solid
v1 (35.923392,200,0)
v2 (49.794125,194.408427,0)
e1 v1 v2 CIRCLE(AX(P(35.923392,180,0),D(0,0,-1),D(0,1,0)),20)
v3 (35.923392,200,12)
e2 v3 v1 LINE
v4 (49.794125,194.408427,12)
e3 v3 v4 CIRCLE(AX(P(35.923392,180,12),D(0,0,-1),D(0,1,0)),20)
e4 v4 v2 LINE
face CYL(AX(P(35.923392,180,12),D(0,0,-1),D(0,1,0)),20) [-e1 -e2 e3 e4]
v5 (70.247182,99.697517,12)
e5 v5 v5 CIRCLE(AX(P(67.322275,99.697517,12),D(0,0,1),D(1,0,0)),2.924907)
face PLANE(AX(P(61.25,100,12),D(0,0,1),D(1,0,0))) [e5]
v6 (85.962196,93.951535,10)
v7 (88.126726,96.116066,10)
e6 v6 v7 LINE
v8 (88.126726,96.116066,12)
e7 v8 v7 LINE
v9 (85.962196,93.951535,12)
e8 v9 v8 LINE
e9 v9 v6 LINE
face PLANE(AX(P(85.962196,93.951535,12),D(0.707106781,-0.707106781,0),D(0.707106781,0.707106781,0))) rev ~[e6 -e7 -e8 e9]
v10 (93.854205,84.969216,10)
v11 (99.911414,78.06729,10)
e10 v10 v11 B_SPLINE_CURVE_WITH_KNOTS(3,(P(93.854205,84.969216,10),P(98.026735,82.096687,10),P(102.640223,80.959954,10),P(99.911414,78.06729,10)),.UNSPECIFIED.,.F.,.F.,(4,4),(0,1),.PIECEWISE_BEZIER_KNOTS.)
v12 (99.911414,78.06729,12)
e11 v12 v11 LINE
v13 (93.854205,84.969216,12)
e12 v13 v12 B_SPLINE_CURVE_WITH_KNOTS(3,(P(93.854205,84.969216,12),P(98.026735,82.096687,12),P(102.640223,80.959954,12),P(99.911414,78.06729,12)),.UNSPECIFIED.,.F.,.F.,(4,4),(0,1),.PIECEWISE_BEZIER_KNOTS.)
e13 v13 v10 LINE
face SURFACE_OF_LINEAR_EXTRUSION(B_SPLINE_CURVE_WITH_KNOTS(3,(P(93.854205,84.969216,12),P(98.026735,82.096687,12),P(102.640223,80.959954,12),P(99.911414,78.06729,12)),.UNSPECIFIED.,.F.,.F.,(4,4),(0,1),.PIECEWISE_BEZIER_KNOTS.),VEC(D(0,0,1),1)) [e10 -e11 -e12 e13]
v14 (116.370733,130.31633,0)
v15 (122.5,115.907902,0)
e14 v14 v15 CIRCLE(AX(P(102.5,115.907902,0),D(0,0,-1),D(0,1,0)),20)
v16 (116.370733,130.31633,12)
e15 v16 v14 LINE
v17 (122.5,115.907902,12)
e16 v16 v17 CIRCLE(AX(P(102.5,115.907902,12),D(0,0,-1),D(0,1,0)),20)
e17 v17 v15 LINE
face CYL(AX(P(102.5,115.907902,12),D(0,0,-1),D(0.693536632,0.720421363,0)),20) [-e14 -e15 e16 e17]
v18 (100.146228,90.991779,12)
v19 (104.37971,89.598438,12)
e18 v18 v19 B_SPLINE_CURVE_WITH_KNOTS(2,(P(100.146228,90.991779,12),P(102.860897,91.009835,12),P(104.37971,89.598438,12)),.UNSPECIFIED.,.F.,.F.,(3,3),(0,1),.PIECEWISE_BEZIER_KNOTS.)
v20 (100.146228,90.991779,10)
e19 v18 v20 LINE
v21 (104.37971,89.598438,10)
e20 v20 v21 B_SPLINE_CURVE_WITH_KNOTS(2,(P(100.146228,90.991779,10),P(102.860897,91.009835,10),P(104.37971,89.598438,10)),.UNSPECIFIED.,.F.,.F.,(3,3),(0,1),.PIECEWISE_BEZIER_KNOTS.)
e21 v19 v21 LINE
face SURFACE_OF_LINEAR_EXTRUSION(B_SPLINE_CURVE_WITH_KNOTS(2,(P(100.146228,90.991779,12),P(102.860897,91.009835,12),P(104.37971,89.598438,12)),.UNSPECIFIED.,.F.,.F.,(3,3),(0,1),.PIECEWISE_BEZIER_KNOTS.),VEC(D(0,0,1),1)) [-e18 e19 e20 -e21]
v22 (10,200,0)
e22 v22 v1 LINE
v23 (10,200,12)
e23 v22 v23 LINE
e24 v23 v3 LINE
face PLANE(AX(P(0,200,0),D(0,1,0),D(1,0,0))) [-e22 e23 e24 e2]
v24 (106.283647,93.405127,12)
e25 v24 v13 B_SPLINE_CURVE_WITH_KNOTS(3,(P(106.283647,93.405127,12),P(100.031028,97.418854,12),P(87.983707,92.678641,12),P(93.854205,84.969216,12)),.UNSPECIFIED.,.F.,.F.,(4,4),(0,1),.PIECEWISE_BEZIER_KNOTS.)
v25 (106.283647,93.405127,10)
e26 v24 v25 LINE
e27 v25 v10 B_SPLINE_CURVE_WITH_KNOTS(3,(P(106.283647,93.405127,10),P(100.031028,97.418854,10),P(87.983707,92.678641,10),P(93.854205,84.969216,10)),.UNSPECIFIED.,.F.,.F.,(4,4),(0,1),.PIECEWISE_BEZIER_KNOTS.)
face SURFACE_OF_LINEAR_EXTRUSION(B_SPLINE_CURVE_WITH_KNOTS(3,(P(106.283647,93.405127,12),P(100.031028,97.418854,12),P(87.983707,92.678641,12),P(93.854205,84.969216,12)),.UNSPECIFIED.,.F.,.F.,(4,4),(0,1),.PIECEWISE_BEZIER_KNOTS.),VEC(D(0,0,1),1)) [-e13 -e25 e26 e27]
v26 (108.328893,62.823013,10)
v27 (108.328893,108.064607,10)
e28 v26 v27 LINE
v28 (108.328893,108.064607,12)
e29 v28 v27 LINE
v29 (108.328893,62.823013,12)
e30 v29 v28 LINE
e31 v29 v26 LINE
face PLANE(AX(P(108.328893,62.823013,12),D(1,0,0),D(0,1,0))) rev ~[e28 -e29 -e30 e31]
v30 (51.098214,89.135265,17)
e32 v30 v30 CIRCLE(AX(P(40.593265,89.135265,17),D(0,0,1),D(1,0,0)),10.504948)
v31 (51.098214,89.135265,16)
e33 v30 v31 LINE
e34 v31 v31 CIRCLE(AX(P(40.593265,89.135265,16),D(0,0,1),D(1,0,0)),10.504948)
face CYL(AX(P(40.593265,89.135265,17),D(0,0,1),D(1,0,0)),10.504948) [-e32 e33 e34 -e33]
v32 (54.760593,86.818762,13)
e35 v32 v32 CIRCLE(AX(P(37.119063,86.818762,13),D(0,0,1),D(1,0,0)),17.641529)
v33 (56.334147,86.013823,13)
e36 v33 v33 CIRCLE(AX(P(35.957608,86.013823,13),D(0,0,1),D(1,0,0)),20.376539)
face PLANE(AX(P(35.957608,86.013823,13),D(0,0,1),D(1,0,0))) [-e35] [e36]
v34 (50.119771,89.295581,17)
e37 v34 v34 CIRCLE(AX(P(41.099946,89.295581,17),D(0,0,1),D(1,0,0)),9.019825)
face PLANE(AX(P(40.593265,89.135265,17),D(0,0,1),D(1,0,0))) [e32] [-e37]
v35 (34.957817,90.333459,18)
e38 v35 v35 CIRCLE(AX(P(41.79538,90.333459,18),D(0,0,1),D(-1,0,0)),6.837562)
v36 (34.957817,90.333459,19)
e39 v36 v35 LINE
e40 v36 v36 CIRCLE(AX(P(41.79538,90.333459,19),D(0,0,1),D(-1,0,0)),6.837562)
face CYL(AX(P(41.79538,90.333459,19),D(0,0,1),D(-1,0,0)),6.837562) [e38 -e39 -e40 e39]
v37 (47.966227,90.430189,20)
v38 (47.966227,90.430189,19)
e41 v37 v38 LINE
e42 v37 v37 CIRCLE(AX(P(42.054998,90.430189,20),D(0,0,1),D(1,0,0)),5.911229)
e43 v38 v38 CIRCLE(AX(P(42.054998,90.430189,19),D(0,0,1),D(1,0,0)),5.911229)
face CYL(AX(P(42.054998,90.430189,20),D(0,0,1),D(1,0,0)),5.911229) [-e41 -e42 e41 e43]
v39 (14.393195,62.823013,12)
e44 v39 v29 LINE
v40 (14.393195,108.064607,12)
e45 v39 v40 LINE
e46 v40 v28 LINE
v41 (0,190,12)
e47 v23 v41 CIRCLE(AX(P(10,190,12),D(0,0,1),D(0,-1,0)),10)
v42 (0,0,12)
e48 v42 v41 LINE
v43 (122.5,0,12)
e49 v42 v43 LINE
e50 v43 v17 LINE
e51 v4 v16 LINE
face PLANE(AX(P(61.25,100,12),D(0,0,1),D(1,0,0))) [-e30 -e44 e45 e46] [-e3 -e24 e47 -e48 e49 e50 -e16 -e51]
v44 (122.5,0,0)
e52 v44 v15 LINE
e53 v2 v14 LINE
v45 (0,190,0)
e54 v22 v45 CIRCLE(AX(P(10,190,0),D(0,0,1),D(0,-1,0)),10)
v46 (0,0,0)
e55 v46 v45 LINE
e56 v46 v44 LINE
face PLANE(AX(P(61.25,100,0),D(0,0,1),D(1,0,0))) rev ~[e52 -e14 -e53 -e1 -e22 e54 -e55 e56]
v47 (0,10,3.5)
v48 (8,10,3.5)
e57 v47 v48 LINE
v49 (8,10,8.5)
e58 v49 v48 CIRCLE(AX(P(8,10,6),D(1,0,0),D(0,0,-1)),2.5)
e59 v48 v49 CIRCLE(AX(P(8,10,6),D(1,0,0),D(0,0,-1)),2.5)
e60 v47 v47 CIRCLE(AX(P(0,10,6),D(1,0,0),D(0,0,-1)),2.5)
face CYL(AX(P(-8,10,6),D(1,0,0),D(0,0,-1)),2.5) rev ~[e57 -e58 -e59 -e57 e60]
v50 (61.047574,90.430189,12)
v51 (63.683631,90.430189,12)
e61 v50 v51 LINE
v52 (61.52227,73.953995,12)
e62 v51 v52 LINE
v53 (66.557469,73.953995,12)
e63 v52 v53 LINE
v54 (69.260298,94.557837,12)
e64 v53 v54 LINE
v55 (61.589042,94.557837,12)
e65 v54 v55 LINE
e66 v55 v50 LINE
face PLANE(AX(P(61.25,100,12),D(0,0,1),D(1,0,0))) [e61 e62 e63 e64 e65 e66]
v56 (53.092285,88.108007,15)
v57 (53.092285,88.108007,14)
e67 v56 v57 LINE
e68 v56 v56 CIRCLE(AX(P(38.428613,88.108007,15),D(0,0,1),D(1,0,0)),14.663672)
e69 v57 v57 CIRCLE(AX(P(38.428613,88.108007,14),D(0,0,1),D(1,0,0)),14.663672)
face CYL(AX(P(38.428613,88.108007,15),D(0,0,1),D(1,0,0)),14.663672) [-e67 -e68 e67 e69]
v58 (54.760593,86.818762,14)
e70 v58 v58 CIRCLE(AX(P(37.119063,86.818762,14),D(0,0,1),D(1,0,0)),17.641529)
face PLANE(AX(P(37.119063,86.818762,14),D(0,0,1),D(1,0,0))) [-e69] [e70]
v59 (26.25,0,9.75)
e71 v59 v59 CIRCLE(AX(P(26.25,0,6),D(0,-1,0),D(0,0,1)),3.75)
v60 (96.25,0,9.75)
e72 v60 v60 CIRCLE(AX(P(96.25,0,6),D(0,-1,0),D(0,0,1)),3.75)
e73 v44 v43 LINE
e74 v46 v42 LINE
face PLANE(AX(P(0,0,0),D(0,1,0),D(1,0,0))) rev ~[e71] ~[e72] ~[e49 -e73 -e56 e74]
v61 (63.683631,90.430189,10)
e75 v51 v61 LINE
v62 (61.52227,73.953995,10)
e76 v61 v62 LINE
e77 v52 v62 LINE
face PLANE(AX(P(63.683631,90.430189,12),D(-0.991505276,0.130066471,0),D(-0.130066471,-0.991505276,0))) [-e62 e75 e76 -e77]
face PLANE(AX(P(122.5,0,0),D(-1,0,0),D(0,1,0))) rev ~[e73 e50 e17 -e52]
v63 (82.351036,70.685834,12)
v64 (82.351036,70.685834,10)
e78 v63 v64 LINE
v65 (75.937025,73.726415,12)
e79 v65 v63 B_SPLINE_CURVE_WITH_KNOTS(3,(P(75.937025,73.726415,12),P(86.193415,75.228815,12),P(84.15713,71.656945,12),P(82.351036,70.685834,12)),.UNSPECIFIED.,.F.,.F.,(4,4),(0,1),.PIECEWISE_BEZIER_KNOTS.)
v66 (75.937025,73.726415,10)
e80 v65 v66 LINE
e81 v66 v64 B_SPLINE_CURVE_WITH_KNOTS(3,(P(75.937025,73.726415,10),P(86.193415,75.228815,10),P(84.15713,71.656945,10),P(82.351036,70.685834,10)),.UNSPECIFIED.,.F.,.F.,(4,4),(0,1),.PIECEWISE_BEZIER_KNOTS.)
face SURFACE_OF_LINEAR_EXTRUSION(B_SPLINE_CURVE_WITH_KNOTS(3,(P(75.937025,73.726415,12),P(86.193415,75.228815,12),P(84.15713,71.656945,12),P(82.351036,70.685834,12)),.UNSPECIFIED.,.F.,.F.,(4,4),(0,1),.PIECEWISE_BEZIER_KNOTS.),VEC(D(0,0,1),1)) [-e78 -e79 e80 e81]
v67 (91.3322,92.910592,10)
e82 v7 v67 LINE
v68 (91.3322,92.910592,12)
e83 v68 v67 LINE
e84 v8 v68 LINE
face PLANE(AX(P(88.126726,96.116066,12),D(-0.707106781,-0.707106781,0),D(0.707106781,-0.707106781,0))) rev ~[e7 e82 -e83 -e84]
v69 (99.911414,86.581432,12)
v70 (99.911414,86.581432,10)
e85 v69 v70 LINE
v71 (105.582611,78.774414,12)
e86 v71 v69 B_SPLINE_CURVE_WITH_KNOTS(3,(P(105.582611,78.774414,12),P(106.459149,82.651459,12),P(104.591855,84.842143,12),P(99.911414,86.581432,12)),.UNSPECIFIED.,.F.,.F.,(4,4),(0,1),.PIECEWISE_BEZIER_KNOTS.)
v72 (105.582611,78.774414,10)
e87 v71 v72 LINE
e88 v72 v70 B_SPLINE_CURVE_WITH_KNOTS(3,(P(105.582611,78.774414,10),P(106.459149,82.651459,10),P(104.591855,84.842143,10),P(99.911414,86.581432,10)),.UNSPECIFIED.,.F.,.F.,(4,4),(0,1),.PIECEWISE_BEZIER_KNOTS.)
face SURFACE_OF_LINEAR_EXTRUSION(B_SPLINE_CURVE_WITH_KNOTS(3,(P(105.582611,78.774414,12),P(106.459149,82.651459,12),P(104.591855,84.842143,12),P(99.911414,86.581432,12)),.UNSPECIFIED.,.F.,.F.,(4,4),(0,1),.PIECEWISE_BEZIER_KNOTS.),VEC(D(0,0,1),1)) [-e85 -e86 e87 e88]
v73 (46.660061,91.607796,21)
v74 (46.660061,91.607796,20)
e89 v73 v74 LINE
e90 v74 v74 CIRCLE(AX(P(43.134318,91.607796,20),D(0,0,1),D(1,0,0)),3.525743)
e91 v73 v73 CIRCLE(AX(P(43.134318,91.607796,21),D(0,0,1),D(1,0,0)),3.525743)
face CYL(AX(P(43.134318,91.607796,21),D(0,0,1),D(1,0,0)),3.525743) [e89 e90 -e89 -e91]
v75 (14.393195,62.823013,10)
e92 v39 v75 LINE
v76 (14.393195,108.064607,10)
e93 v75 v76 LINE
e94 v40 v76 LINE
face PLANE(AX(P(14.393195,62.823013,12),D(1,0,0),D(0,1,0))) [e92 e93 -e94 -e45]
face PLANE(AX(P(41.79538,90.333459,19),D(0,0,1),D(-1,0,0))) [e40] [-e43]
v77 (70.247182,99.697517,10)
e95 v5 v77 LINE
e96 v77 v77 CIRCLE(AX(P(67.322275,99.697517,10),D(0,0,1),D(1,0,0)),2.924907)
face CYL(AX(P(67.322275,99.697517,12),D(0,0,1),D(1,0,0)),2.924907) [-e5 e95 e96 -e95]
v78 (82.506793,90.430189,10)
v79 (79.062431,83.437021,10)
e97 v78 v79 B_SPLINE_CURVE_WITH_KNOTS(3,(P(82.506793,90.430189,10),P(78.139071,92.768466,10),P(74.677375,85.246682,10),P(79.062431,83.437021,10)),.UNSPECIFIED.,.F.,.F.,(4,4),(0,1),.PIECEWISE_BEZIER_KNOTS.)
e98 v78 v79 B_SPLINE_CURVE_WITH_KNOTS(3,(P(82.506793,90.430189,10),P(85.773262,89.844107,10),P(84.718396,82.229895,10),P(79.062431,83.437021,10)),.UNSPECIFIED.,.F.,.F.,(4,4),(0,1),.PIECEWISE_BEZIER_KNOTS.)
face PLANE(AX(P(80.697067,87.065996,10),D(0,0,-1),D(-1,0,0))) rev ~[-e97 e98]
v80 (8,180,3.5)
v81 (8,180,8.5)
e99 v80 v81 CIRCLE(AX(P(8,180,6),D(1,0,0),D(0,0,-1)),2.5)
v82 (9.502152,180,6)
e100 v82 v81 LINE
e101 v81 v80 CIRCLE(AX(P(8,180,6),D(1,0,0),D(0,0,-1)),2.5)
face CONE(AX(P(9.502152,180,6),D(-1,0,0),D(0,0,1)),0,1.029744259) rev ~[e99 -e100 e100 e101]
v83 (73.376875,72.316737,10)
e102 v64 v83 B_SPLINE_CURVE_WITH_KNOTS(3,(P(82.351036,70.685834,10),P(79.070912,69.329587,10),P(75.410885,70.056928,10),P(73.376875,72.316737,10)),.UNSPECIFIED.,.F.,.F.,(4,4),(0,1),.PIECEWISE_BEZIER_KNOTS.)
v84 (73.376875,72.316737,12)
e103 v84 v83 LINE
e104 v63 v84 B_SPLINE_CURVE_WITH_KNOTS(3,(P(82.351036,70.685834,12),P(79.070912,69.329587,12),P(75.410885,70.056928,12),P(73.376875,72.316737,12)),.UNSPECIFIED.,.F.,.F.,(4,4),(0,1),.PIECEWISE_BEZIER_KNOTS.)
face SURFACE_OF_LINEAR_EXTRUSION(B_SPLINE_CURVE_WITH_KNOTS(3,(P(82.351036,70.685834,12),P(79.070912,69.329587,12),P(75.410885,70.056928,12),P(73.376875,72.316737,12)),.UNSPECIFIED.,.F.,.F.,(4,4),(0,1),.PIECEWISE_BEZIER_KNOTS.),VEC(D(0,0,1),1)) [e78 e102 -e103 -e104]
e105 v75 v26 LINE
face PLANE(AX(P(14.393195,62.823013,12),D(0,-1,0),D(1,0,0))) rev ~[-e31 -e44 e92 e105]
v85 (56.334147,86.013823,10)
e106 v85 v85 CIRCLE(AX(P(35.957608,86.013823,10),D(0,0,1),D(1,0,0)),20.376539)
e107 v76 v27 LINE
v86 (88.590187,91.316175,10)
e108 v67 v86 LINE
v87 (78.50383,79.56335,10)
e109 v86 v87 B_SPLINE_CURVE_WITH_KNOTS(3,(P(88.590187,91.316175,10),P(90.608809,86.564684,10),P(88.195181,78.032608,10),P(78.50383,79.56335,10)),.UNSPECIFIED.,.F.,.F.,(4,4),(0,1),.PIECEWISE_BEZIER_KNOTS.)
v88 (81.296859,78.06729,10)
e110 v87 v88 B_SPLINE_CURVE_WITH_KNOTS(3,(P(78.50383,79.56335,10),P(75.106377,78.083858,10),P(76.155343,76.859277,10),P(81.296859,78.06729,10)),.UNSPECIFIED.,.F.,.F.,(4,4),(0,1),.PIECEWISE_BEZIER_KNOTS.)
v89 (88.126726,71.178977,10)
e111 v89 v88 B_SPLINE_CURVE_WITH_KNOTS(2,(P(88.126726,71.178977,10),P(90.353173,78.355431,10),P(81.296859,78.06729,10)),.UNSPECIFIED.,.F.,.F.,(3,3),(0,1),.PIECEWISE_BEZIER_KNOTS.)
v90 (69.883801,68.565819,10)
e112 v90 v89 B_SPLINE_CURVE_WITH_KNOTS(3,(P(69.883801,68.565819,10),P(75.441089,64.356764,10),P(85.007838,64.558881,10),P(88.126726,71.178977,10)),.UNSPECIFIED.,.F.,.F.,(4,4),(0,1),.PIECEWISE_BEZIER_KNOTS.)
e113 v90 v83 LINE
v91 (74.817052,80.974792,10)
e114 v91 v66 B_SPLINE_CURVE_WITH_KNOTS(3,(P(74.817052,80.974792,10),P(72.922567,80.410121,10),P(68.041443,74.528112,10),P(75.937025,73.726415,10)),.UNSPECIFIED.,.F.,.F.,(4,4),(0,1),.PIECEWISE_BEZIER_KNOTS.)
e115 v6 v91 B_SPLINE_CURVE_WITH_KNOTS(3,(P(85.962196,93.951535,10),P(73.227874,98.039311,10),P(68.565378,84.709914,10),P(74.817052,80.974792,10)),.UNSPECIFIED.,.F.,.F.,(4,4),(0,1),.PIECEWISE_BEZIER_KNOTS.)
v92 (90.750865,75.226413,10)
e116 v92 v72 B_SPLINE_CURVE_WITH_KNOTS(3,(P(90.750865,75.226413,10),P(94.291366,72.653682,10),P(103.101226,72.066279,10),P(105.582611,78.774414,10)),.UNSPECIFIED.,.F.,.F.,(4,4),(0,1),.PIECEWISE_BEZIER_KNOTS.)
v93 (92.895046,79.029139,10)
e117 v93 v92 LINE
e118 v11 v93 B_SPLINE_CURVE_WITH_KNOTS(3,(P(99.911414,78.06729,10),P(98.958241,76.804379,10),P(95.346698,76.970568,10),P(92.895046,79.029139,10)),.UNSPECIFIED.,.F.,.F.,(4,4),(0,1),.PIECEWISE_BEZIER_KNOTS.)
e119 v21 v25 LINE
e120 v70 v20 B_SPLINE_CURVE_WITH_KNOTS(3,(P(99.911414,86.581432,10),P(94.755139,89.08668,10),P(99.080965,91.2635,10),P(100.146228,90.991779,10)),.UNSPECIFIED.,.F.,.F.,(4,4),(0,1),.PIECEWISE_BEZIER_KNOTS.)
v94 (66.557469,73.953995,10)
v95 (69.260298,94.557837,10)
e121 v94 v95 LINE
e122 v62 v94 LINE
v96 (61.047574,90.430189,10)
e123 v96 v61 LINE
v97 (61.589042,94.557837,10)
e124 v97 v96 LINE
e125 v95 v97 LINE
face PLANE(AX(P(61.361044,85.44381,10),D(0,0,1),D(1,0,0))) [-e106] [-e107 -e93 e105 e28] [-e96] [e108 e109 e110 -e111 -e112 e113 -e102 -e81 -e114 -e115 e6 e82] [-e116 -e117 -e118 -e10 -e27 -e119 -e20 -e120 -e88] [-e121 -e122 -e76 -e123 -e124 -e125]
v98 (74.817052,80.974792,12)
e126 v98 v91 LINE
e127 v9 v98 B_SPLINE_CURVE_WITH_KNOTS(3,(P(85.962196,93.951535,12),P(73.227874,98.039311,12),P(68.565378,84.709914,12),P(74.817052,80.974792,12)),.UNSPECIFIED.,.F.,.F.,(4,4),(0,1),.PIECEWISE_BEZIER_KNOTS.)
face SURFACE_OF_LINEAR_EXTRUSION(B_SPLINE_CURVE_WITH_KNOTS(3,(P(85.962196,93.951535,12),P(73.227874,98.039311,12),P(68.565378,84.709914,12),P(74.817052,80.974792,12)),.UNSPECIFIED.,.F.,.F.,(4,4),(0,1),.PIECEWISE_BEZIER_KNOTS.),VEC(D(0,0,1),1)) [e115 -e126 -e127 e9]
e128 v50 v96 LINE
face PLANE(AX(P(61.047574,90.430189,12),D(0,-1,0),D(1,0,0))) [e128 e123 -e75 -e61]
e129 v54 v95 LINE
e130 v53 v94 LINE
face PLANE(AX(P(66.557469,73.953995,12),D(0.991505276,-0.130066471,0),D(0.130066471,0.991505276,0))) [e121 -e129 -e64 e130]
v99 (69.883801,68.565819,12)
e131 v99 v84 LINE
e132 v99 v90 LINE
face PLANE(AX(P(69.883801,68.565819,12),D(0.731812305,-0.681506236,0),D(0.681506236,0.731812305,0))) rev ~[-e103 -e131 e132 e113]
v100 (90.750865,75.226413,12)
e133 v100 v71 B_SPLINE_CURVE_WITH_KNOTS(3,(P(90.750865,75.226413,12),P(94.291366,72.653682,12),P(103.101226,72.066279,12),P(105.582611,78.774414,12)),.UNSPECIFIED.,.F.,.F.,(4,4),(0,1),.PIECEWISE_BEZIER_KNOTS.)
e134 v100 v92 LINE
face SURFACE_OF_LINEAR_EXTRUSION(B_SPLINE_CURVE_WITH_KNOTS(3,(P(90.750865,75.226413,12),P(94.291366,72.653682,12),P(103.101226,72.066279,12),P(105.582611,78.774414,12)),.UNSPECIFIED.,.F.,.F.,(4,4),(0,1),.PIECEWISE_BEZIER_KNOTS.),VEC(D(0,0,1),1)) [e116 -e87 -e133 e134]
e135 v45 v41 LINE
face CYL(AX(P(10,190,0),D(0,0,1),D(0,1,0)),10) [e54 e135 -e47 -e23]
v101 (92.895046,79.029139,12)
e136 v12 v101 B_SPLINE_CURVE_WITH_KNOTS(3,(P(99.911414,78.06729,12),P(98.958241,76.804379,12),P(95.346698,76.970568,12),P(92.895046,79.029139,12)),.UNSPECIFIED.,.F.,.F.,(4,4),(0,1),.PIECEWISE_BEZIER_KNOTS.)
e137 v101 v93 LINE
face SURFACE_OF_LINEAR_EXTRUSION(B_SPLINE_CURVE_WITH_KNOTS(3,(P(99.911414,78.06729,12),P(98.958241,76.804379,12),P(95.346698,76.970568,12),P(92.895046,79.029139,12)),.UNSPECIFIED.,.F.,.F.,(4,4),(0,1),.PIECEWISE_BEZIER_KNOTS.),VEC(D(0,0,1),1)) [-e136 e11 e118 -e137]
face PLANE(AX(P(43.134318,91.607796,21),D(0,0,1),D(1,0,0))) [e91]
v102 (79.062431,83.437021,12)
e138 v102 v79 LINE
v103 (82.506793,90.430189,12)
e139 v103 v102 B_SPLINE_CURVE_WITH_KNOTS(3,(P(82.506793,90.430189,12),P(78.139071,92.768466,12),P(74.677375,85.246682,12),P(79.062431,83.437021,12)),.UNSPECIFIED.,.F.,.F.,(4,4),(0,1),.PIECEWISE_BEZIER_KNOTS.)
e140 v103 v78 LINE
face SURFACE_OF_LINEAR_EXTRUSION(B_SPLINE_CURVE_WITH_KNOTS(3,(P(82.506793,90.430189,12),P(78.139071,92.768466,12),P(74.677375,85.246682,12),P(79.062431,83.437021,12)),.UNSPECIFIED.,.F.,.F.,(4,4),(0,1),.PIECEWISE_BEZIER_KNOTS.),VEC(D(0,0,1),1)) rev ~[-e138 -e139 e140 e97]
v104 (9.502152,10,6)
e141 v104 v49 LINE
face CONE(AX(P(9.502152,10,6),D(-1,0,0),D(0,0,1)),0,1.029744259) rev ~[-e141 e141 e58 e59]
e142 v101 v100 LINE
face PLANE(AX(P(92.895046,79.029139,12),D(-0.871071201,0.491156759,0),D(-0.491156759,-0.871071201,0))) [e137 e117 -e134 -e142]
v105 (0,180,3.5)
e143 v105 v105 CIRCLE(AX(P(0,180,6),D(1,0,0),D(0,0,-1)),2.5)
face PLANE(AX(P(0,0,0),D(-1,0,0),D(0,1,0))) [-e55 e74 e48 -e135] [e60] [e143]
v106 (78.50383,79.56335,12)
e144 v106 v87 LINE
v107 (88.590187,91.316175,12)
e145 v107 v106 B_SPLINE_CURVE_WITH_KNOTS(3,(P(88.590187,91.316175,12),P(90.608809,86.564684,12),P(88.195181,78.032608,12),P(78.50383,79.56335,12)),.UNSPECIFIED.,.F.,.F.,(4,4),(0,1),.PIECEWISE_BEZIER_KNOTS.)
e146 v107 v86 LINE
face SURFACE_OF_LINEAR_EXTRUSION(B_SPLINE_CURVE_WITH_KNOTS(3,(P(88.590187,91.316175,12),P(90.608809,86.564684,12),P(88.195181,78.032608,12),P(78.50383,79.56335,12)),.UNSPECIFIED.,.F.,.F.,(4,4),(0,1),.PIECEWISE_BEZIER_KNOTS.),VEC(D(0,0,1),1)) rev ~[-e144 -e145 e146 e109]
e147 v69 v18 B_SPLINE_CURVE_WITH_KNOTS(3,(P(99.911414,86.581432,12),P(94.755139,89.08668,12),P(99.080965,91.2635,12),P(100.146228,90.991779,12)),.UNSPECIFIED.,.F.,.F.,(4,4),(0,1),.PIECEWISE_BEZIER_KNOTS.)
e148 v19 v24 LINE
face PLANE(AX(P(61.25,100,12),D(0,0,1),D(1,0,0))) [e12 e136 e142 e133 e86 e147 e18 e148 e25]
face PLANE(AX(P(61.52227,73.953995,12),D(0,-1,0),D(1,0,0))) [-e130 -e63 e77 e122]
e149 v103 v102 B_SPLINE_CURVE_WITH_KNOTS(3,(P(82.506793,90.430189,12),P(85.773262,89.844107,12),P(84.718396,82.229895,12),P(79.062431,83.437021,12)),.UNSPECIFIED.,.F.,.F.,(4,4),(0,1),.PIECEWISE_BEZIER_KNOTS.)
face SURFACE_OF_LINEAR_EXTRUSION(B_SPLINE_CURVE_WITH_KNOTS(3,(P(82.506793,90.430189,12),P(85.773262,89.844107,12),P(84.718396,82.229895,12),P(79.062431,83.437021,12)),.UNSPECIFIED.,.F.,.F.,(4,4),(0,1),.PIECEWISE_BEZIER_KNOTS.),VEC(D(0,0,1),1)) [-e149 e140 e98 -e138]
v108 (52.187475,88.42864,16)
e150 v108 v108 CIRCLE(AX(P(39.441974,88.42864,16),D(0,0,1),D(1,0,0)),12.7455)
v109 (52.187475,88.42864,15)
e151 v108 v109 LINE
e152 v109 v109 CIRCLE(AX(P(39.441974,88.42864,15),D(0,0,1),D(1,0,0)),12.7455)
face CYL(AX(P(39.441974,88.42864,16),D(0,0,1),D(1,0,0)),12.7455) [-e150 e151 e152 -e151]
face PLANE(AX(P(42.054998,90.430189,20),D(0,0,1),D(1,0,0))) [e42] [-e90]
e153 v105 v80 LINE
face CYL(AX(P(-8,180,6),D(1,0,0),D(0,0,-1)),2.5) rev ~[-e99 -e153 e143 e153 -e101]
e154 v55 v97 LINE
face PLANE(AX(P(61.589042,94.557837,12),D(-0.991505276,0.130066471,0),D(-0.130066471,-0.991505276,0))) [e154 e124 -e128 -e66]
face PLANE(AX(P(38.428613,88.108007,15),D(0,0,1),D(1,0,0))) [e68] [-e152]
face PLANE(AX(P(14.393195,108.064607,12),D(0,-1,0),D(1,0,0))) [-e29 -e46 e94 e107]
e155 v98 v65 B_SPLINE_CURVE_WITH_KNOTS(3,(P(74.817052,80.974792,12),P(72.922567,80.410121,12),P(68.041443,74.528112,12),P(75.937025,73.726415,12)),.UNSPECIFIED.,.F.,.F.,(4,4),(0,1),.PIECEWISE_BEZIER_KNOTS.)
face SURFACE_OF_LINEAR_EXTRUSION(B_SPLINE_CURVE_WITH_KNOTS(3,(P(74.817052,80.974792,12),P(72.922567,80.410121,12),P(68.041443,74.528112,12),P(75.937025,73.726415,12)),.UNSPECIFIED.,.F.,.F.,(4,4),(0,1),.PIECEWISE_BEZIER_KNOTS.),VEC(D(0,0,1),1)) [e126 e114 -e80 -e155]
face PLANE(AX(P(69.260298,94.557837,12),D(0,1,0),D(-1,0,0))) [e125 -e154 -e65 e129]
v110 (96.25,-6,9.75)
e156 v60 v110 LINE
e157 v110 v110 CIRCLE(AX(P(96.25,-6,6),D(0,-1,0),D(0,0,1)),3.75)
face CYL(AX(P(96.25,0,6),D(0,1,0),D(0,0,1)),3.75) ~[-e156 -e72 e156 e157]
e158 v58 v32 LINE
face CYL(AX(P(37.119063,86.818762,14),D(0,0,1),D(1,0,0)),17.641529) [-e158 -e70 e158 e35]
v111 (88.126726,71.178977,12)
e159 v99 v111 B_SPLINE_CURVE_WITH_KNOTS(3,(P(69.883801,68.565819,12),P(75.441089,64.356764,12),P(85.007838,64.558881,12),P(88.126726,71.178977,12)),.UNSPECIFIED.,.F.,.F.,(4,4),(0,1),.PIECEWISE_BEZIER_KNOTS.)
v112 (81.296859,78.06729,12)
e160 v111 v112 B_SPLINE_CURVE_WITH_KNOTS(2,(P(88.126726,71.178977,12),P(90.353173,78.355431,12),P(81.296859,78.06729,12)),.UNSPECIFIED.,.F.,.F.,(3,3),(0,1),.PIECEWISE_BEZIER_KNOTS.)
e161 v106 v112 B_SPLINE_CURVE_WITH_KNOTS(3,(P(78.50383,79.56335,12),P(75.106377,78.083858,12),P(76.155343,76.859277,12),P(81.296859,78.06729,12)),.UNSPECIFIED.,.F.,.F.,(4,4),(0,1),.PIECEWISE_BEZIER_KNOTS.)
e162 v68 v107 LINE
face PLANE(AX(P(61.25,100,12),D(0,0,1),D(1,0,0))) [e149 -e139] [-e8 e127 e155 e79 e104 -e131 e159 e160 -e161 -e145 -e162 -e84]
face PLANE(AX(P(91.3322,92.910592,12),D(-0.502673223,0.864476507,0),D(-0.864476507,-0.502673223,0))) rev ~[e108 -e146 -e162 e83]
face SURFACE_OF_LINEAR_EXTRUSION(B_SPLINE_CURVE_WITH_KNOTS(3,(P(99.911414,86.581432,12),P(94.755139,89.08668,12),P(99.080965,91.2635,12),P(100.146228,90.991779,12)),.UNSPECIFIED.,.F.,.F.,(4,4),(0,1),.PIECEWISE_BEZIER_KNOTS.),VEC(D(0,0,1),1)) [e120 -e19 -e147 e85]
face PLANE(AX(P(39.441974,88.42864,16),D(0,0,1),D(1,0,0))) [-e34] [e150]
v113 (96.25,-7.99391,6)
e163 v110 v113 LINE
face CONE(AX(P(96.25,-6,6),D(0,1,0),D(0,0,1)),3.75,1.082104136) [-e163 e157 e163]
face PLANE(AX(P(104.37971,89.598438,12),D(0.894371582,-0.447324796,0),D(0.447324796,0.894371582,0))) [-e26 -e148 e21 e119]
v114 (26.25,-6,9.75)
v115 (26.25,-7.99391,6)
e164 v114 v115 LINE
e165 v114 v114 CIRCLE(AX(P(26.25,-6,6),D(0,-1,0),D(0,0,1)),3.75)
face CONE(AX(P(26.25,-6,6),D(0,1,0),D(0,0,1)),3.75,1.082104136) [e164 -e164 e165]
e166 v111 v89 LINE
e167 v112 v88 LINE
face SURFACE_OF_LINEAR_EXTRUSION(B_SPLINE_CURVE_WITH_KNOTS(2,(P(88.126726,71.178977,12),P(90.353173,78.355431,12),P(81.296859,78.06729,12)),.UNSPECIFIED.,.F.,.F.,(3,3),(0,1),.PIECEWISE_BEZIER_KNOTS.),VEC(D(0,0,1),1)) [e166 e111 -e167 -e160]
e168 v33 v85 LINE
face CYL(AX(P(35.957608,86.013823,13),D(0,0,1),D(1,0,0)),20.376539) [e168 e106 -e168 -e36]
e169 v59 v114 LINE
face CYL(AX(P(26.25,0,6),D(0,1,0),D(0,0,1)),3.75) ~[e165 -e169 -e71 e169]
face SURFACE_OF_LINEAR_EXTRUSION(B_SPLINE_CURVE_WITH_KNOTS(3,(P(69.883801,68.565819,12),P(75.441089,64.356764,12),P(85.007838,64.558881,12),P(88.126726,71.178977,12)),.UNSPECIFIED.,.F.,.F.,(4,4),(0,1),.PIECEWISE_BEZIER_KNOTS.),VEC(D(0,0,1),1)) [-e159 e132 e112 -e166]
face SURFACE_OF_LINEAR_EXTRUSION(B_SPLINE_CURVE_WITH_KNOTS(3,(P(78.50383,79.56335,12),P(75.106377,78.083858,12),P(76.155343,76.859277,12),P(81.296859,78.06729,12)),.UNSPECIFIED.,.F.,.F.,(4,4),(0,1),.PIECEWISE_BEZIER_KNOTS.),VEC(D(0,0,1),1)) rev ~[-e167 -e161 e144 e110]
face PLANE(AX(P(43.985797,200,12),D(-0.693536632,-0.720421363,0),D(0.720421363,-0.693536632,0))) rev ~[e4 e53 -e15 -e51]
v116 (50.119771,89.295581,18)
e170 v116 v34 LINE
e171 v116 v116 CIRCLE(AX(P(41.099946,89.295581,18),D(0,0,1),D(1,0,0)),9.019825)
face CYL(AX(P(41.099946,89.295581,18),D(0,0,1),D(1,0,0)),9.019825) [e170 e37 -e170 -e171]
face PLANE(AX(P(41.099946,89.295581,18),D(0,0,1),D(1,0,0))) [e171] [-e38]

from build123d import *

# Parameters (mm, degrees)
SKETCH4_W                    = 122.5
SKETCH4_H                    = 200
BOSS_EXTRUDE1_DEPTH          = 12
CUT_EXTRUDE1_DEPTH           = 12
FILLET1_R                    = 20
FILLET2_R                    = 20
FILLET3_R                    = 10
SKETCH10_R                   = 3.75
BOSS_EXTRUDE3_DEPTH          = 6
F_5_0_5_DIAMETER_HOLE1_D     = 5
F_5_0_5_DIAMETER_HOLE1_DEPTH = 8
F_5_0_5_DIAMETER_HOLE1_TIP   = 1.502151548
F_5_0_5_DIAMETER_HOLE2_D     = 5
F_5_0_5_DIAMETER_HOLE2_DEPTH = 8
F_5_0_5_DIAMETER_HOLE2_TIP   = 1.502151548
SKETCH20_W                   = 93.935697293
SKETCH20_H                   = 45.241593882
SKETCH20_R                   = 20.37653906
SKETCH20_R_2                 = 2.92490685
CUT_EXTRUDE2_DEPTH           = 2
BOSS_EXTRUDE13_START         = 1
SKETCH20_13_R                = 20.37653906
SKETCH20_13_R_2              = 17.641529269
BOSS_EXTRUDE13_DEPTH         = 1
BOSS_EXTRUDE14_START         = 2
SKETCH20_14_R                = 17.641529269
SKETCH20_14_R_2              = 14.663672294
BOSS_EXTRUDE14_DEPTH         = 2
BOSS_EXTRUDE15_START         = 3
SKETCH20_15_R                = 14.663672294
SKETCH20_15_R_2              = 12.74550038
BOSS_EXTRUDE15_DEPTH         = 3
BOSS_EXTRUDE16_START         = 4
SKETCH20_16_R                = 12.74550038
SKETCH20_16_R_2              = 10.504948412
BOSS_EXTRUDE16_DEPTH         = 4
BOSS_EXTRUDE17_START         = 5
SKETCH20_17_R                = 10.504948412
SKETCH20_17_R_2              = 9.019824998
BOSS_EXTRUDE17_DEPTH         = 5
BOSS_EXTRUDE18_START         = 6
SKETCH20_18_R                = 9.019824998
SKETCH20_18_R_2              = 6.837562299
BOSS_EXTRUDE18_DEPTH         = 6
BOSS_EXTRUDE19_START         = 7
SKETCH20_19_R                = 6.837562299
SKETCH20_19_R_2              = 5.911229022
BOSS_EXTRUDE19_DEPTH         = 7
BOSS_EXTRUDE20_START         = 8
SKETCH20_20_R                = 5.911229022
SKETCH20_20_R_2              = 3.525742811
BOSS_EXTRUDE20_DEPTH         = 8
BOSS_EXTRUDE21_START         = 9
SKETCH20_21_R                = 3.525742811
BOSS_EXTRUDE21_DEPTH         = 9
CUT_EXTRUDE3_DEPTH           = 2


with BuildPart() as part:
    # Sketch4 → Boss-Extrude1 (new body)
    with BuildSketch(Plane.XY):
        with Locations((61.25, 100)):
            Rectangle(SKETCH4_W, SKETCH4_H)
    extrude(amount=BOSS_EXTRUDE1_DEPTH)

    # Sketch7 → Cut-Extrude1 (cut)
    with BuildSketch(Plane.XY.offset(12)):
        Polygon((43.985796602, 200), (122.5, 124.415794753), (122.5, 200), align=None)
    extrude(amount=-CUT_EXTRUDE1_DEPTH, mode=Mode.SUBTRACT)

    # Fillet1
    fillet1_edges = [part.edges().sort_by_distance(p)[0] for p in [
        (43.985796602, 200, 6),
    ]]
    fillet(fillet1_edges, radius=FILLET1_R)

    # Fillet2
    fillet2_edges = [part.edges().sort_by_distance(p)[0] for p in [
        (122.5, 124.415794753, 6),
    ]]
    fillet(fillet2_edges, radius=FILLET2_R)

    # Fillet3
    fillet3_edges = [part.edges().sort_by_distance(p)[0] for p in [
        (0, 200, 6),
    ]]
    fillet(fillet3_edges, radius=FILLET3_R)

    # Sketch10 → Boss-Extrude3 (add)
    with BuildSketch(Plane.XZ):
        with Locations((26.25, 6)):
            Circle(SKETCH10_R)
        with Locations((96.25, 6)):
            Circle(SKETCH10_R)
    extrude(amount=BOSS_EXTRUDE3_DEPTH)

    # Boss-Extrude4 cone 1 section (through the dimple's axis) → Boss-Extrude4 (revolve)
    with BuildSketch(Plane(origin=(26.25, -6, 6), x_dir=(0, 0, 1), z_dir=(1, 0, 0))):
        Polygon((0, 0), (3.75, 0), (0, 1.993910369), align=None)
    revolve(axis=Axis((26.25, -6, 6), (0, -1, 0)))

    # Boss-Extrude4 cone 2 section (through the dimple's axis) → Boss-Extrude4 cone 2 (revolve)
    with BuildSketch(Plane(origin=(96.25, -6, 6), x_dir=(0, 0, 1), z_dir=(1, 0, 0))):
        Polygon((0, 0), (3.75, 0), (0, 1.993910369), align=None)
    revolve(axis=Axis((96.25, -6, 6), (0, -1, 0)))

    # Ø5.0 (5) Diameter Hole1
    with Locations(Plane.ZY):
        with Locations((6, 180)):
            Hole(F_5_0_5_DIAMETER_HOLE1_D / 2, depth=F_5_0_5_DIAMETER_HOLE1_DEPTH)
            with Locations((0, 0, -(F_5_0_5_DIAMETER_HOLE1_DEPTH + F_5_0_5_DIAMETER_HOLE1_TIP / 2))):  # 118° drill point
                Cone(0, F_5_0_5_DIAMETER_HOLE1_D / 2, F_5_0_5_DIAMETER_HOLE1_TIP, mode=Mode.SUBTRACT)

    # Ø5.0 (5) Diameter Hole2
    with Locations(Plane.ZY):
        with Locations((6, 10)):
            Hole(F_5_0_5_DIAMETER_HOLE2_D / 2, depth=F_5_0_5_DIAMETER_HOLE2_DEPTH)
            with Locations((0, 0, -(F_5_0_5_DIAMETER_HOLE2_DEPTH + F_5_0_5_DIAMETER_HOLE2_TIP / 2))):  # 118° drill point
                Cone(0, F_5_0_5_DIAMETER_HOLE2_D / 2, F_5_0_5_DIAMETER_HOLE2_TIP, mode=Mode.SUBTRACT)

    # Sketch20 → Cut-Extrude2 (cut)
    with BuildSketch(Plane.XY.offset(12)):
        with Locations((61.361044033, 85.443809719)):
            Rectangle(SKETCH20_W, SKETCH20_H)
        Polygon((61.047573723, 90.430188609), (61.589041998, 94.557836932), (69.26029788, 94.557836932), (66.557469092, 73.953995083), (61.522270474, 73.953995083), (63.683630986, 90.430188609), align=None, mode=Mode.SUBTRACT)
        with BuildLine():
            add(Edge.make_bspline(
                [(85.962196211, 93.951535359), (73.227873525, 98.039311198), (68.565378269, 84.709913686), (74.817052307, 80.974792322)],
                knots=[0, 0, 0, 0, 1, 1, 1, 1], degree=3))
            Line((85.962196211, 93.951535359), (88.126726488, 96.116065636))
            Line((88.126726488, 96.116065636), (91.33219969, 92.910592434))
            Line((91.33219969, 92.910592434), (88.590187081, 91.316175115))
            add(Edge.make_bspline(
                [(88.590187081, 91.316175115), (90.608809275, 86.564684321), (88.195181264, 78.032608366), (78.503830219, 79.563349573)],
                knots=[0, 0, 0, 0, 1, 1, 1, 1], degree=3))
            add(Edge.make_bspline(
                [(78.503830219, 79.563349573), (75.106377316, 78.083857902), (76.155342876, 76.859276831), (81.296859197, 78.067290297)],
                knots=[0, 0, 0, 0, 1, 1, 1, 1], degree=3))
            add(Edge.make_bspline(
                [(88.126726488, 71.178977426), (90.353172606, 78.355431309), (81.296859197, 78.067290297)],
                knots=[0, 0, 0, 1, 1, 1], degree=2))
            add(Edge.make_bspline(
                [(69.883801172, 68.565818837), (75.441088702, 64.356763635), (85.007837919, 64.558881229), (88.126726488, 71.178977426)],
                knots=[0, 0, 0, 0, 1, 1, 1, 1], degree=3))
            Line((69.883801172, 68.565818837), (73.376875031, 72.316737458))
            add(Edge.make_bspline(
                [(82.35103605, 70.685834384), (79.070911802, 69.329587135), (75.410885248, 70.056928402), (73.376875031, 72.316737458)],
                knots=[0, 0, 0, 0, 1, 1, 1, 1], degree=3))
            add(Edge.make_bspline(
                [(75.937024541, 73.726414789), (86.193415253, 75.228814771), (84.157130117, 71.656945202), (82.35103605, 70.685834384)],
                knots=[0, 0, 0, 0, 1, 1, 1, 1], degree=3))
            add(Edge.make_bspline(
                [(74.817052307, 80.974792322), (72.922567337, 80.410121083), (68.041443, 74.528111598), (75.937024541, 73.726414789)],
                knots=[0, 0, 0, 0, 1, 1, 1, 1], degree=3))
        make_face(mode=Mode.SUBTRACT)
        with BuildLine():
            Line((90.750865037, 75.226412858), (92.89504628, 79.029138763))
            add(Edge.make_bspline(
                [(99.911414016, 78.067290297), (98.958240769, 76.804379248), (95.34669814, 76.970567767), (92.89504628, 79.029138763)],
                knots=[0, 0, 0, 0, 1, 1, 1, 1], degree=3))
            add(Edge.make_bspline(
                [(93.854204775, 84.969216201), (98.026734503, 82.096686967), (102.640223397, 80.959953656), (99.911414016, 78.067290297)],
                knots=[0, 0, 0, 0, 1, 1, 1, 1], degree=3))
            add(Edge.make_bspline(
                [(106.283646559, 93.405127221), (100.031028138, 97.418853716), (87.983706785, 92.678641198), (93.854204775, 84.969216201)],
                knots=[0, 0, 0, 0, 1, 1, 1, 1], degree=3))
            Line((106.283646559, 93.405127221), (104.379710297, 89.598437986))
            add(Edge.make_bspline(
                [(100.146227503, 90.991779166), (102.860896641, 91.009835078), (104.379710297, 89.598437986)],
                knots=[0, 0, 0, 1, 1, 1], degree=2))
            add(Edge.make_bspline(
                [(99.911414016, 86.581431975), (94.755138706, 89.086680248), (99.08096527, 91.263500215), (100.146227503, 90.991779166)],
                knots=[0, 0, 0, 0, 1, 1, 1, 1], degree=3))
            add(Edge.make_bspline(
                [(105.582611154, 78.774413912), (106.459148582, 82.651459105), (104.591855241, 84.842143282), (99.911414016, 86.581431975)],
                knots=[0, 0, 0, 0, 1, 1, 1, 1], degree=3))
            add(Edge.make_bspline(
                [(90.750865037, 75.226412858), (94.291366297, 72.653681958), (103.101226044, 72.066278851), (105.582611154, 78.774413912)],
                knots=[0, 0, 0, 0, 1, 1, 1, 1], degree=3))
        make_face(mode=Mode.SUBTRACT)
        with Locations((35.957607669, 86.013822807)):
            Circle(SKETCH20_R, mode=Mode.SUBTRACT)
        with Locations((67.322275412, 99.697516532)):
            Circle(SKETCH20_R_2, mode=Mode.SUBTRACT)
    extrude(amount=-CUT_EXTRUDE2_DEPTH, mode=Mode.SUBTRACT)

    # Sketch20<13> → Boss-Extrude13 (add)
    with BuildSketch(Plane.XY.offset(12).offset(BOSS_EXTRUDE13_START)):
        with Locations((35.957607669, 86.013822807)):
            Circle(SKETCH20_13_R)
        with Locations((37.119063244, 86.818761809)):
            Circle(SKETCH20_13_R_2, mode=Mode.SUBTRACT)
    extrude(amount=-BOSS_EXTRUDE13_DEPTH)

    # Sketch20<14> → Boss-Extrude14 (add)
    with BuildSketch(Plane.XY.offset(12).offset(BOSS_EXTRUDE14_START)):
        with Locations((37.119063244, 86.818761809)):
            Circle(SKETCH20_14_R)
        with Locations((38.428612543, 88.108007113)):
            Circle(SKETCH20_14_R_2, mode=Mode.SUBTRACT)
    extrude(amount=-BOSS_EXTRUDE14_DEPTH)

    # Sketch20<15> → Boss-Extrude15 (add)
    with BuildSketch(Plane.XY.offset(12).offset(BOSS_EXTRUDE15_START)):
        with Locations((38.428612543, 88.108007113)):
            Circle(SKETCH20_15_R)
        with Locations((39.441974393, 88.428639811)):
            Circle(SKETCH20_15_R_2, mode=Mode.SUBTRACT)
    extrude(amount=-BOSS_EXTRUDE15_DEPTH)

    # Sketch20<16> → Boss-Extrude16 (add)
    with BuildSketch(Plane.XY.offset(12).offset(BOSS_EXTRUDE16_START)):
        with Locations((39.441974393, 88.428639811)):
            Circle(SKETCH20_16_R)
        with Locations((40.593265286, 89.13526511)):
            Circle(SKETCH20_16_R_2, mode=Mode.SUBTRACT)
    extrude(amount=-BOSS_EXTRUDE16_DEPTH)

    # Sketch20<17> → Boss-Extrude17 (add)
    with BuildSketch(Plane.XY.offset(12).offset(BOSS_EXTRUDE17_START)):
        with Locations((40.593265286, 89.13526511)):
            Circle(SKETCH20_17_R)
        with Locations((41.099946211, 89.295581459)):
            Circle(SKETCH20_17_R_2, mode=Mode.SUBTRACT)
    extrude(amount=-BOSS_EXTRUDE17_DEPTH)

    # Sketch20<18> → Boss-Extrude18 (add)
    with BuildSketch(Plane.XY.offset(12).offset(BOSS_EXTRUDE18_START)):
        with Locations((41.099946211, 89.295581459)):
            Circle(SKETCH20_18_R)
        with Locations((41.79537959, 90.333458923)):
            Circle(SKETCH20_18_R_2, mode=Mode.SUBTRACT)
    extrude(amount=-BOSS_EXTRUDE18_DEPTH)

    # Sketch20<19> → Boss-Extrude19 (add)
    with BuildSketch(Plane.XY.offset(12).offset(BOSS_EXTRUDE19_START)):
        with Locations((41.79537959, 90.333458923)):
            Circle(SKETCH20_19_R)
        with Locations((42.054997992, 90.430188609)):
            Circle(SKETCH20_19_R_2, mode=Mode.SUBTRACT)
    extrude(amount=-BOSS_EXTRUDE19_DEPTH)

    # Sketch20<20> → Boss-Extrude20 (add)
    with BuildSketch(Plane.XY.offset(12).offset(BOSS_EXTRUDE20_START)):
        with Locations((42.054997992, 90.430188609)):
            Circle(SKETCH20_20_R)
        with Locations((43.134317697, 91.60779599)):
            Circle(SKETCH20_20_R_2, mode=Mode.SUBTRACT)
    extrude(amount=-BOSS_EXTRUDE20_DEPTH)

    # Sketch20<21> → Boss-Extrude21 (add)
    with BuildSketch(Plane.XY.offset(12).offset(BOSS_EXTRUDE21_START)):
        with Locations((43.134317697, 91.60779599)):
            Circle(SKETCH20_21_R)
    extrude(amount=-BOSS_EXTRUDE21_DEPTH)

    # Sketch20<22> → Cut-Extrude3 (cut)
    with BuildSketch(Plane.XY.offset(12)):
        with BuildLine():
            add(Edge.make_bspline(
                [(82.50679273, 90.430188609), (85.773261611, 89.84410729), (84.718395856, 82.229894915), (79.062431364, 83.437020603)],
                knots=[0, 0, 0, 0, 1, 1, 1, 1], degree=3))
            add(Edge.make_bspline(
                [(82.50679273, 90.430188609), (78.139071085, 92.768466485), (74.677374815, 85.246681766), (79.062431364, 83.437020603)],
                knots=[0, 0, 0, 0, 1, 1, 1, 1], degree=3))
        make_face()
    extrude(amount=-CUT_EXTRUDE3_DEPTH, mode=Mode.SUBTRACT)


solid = part.part
